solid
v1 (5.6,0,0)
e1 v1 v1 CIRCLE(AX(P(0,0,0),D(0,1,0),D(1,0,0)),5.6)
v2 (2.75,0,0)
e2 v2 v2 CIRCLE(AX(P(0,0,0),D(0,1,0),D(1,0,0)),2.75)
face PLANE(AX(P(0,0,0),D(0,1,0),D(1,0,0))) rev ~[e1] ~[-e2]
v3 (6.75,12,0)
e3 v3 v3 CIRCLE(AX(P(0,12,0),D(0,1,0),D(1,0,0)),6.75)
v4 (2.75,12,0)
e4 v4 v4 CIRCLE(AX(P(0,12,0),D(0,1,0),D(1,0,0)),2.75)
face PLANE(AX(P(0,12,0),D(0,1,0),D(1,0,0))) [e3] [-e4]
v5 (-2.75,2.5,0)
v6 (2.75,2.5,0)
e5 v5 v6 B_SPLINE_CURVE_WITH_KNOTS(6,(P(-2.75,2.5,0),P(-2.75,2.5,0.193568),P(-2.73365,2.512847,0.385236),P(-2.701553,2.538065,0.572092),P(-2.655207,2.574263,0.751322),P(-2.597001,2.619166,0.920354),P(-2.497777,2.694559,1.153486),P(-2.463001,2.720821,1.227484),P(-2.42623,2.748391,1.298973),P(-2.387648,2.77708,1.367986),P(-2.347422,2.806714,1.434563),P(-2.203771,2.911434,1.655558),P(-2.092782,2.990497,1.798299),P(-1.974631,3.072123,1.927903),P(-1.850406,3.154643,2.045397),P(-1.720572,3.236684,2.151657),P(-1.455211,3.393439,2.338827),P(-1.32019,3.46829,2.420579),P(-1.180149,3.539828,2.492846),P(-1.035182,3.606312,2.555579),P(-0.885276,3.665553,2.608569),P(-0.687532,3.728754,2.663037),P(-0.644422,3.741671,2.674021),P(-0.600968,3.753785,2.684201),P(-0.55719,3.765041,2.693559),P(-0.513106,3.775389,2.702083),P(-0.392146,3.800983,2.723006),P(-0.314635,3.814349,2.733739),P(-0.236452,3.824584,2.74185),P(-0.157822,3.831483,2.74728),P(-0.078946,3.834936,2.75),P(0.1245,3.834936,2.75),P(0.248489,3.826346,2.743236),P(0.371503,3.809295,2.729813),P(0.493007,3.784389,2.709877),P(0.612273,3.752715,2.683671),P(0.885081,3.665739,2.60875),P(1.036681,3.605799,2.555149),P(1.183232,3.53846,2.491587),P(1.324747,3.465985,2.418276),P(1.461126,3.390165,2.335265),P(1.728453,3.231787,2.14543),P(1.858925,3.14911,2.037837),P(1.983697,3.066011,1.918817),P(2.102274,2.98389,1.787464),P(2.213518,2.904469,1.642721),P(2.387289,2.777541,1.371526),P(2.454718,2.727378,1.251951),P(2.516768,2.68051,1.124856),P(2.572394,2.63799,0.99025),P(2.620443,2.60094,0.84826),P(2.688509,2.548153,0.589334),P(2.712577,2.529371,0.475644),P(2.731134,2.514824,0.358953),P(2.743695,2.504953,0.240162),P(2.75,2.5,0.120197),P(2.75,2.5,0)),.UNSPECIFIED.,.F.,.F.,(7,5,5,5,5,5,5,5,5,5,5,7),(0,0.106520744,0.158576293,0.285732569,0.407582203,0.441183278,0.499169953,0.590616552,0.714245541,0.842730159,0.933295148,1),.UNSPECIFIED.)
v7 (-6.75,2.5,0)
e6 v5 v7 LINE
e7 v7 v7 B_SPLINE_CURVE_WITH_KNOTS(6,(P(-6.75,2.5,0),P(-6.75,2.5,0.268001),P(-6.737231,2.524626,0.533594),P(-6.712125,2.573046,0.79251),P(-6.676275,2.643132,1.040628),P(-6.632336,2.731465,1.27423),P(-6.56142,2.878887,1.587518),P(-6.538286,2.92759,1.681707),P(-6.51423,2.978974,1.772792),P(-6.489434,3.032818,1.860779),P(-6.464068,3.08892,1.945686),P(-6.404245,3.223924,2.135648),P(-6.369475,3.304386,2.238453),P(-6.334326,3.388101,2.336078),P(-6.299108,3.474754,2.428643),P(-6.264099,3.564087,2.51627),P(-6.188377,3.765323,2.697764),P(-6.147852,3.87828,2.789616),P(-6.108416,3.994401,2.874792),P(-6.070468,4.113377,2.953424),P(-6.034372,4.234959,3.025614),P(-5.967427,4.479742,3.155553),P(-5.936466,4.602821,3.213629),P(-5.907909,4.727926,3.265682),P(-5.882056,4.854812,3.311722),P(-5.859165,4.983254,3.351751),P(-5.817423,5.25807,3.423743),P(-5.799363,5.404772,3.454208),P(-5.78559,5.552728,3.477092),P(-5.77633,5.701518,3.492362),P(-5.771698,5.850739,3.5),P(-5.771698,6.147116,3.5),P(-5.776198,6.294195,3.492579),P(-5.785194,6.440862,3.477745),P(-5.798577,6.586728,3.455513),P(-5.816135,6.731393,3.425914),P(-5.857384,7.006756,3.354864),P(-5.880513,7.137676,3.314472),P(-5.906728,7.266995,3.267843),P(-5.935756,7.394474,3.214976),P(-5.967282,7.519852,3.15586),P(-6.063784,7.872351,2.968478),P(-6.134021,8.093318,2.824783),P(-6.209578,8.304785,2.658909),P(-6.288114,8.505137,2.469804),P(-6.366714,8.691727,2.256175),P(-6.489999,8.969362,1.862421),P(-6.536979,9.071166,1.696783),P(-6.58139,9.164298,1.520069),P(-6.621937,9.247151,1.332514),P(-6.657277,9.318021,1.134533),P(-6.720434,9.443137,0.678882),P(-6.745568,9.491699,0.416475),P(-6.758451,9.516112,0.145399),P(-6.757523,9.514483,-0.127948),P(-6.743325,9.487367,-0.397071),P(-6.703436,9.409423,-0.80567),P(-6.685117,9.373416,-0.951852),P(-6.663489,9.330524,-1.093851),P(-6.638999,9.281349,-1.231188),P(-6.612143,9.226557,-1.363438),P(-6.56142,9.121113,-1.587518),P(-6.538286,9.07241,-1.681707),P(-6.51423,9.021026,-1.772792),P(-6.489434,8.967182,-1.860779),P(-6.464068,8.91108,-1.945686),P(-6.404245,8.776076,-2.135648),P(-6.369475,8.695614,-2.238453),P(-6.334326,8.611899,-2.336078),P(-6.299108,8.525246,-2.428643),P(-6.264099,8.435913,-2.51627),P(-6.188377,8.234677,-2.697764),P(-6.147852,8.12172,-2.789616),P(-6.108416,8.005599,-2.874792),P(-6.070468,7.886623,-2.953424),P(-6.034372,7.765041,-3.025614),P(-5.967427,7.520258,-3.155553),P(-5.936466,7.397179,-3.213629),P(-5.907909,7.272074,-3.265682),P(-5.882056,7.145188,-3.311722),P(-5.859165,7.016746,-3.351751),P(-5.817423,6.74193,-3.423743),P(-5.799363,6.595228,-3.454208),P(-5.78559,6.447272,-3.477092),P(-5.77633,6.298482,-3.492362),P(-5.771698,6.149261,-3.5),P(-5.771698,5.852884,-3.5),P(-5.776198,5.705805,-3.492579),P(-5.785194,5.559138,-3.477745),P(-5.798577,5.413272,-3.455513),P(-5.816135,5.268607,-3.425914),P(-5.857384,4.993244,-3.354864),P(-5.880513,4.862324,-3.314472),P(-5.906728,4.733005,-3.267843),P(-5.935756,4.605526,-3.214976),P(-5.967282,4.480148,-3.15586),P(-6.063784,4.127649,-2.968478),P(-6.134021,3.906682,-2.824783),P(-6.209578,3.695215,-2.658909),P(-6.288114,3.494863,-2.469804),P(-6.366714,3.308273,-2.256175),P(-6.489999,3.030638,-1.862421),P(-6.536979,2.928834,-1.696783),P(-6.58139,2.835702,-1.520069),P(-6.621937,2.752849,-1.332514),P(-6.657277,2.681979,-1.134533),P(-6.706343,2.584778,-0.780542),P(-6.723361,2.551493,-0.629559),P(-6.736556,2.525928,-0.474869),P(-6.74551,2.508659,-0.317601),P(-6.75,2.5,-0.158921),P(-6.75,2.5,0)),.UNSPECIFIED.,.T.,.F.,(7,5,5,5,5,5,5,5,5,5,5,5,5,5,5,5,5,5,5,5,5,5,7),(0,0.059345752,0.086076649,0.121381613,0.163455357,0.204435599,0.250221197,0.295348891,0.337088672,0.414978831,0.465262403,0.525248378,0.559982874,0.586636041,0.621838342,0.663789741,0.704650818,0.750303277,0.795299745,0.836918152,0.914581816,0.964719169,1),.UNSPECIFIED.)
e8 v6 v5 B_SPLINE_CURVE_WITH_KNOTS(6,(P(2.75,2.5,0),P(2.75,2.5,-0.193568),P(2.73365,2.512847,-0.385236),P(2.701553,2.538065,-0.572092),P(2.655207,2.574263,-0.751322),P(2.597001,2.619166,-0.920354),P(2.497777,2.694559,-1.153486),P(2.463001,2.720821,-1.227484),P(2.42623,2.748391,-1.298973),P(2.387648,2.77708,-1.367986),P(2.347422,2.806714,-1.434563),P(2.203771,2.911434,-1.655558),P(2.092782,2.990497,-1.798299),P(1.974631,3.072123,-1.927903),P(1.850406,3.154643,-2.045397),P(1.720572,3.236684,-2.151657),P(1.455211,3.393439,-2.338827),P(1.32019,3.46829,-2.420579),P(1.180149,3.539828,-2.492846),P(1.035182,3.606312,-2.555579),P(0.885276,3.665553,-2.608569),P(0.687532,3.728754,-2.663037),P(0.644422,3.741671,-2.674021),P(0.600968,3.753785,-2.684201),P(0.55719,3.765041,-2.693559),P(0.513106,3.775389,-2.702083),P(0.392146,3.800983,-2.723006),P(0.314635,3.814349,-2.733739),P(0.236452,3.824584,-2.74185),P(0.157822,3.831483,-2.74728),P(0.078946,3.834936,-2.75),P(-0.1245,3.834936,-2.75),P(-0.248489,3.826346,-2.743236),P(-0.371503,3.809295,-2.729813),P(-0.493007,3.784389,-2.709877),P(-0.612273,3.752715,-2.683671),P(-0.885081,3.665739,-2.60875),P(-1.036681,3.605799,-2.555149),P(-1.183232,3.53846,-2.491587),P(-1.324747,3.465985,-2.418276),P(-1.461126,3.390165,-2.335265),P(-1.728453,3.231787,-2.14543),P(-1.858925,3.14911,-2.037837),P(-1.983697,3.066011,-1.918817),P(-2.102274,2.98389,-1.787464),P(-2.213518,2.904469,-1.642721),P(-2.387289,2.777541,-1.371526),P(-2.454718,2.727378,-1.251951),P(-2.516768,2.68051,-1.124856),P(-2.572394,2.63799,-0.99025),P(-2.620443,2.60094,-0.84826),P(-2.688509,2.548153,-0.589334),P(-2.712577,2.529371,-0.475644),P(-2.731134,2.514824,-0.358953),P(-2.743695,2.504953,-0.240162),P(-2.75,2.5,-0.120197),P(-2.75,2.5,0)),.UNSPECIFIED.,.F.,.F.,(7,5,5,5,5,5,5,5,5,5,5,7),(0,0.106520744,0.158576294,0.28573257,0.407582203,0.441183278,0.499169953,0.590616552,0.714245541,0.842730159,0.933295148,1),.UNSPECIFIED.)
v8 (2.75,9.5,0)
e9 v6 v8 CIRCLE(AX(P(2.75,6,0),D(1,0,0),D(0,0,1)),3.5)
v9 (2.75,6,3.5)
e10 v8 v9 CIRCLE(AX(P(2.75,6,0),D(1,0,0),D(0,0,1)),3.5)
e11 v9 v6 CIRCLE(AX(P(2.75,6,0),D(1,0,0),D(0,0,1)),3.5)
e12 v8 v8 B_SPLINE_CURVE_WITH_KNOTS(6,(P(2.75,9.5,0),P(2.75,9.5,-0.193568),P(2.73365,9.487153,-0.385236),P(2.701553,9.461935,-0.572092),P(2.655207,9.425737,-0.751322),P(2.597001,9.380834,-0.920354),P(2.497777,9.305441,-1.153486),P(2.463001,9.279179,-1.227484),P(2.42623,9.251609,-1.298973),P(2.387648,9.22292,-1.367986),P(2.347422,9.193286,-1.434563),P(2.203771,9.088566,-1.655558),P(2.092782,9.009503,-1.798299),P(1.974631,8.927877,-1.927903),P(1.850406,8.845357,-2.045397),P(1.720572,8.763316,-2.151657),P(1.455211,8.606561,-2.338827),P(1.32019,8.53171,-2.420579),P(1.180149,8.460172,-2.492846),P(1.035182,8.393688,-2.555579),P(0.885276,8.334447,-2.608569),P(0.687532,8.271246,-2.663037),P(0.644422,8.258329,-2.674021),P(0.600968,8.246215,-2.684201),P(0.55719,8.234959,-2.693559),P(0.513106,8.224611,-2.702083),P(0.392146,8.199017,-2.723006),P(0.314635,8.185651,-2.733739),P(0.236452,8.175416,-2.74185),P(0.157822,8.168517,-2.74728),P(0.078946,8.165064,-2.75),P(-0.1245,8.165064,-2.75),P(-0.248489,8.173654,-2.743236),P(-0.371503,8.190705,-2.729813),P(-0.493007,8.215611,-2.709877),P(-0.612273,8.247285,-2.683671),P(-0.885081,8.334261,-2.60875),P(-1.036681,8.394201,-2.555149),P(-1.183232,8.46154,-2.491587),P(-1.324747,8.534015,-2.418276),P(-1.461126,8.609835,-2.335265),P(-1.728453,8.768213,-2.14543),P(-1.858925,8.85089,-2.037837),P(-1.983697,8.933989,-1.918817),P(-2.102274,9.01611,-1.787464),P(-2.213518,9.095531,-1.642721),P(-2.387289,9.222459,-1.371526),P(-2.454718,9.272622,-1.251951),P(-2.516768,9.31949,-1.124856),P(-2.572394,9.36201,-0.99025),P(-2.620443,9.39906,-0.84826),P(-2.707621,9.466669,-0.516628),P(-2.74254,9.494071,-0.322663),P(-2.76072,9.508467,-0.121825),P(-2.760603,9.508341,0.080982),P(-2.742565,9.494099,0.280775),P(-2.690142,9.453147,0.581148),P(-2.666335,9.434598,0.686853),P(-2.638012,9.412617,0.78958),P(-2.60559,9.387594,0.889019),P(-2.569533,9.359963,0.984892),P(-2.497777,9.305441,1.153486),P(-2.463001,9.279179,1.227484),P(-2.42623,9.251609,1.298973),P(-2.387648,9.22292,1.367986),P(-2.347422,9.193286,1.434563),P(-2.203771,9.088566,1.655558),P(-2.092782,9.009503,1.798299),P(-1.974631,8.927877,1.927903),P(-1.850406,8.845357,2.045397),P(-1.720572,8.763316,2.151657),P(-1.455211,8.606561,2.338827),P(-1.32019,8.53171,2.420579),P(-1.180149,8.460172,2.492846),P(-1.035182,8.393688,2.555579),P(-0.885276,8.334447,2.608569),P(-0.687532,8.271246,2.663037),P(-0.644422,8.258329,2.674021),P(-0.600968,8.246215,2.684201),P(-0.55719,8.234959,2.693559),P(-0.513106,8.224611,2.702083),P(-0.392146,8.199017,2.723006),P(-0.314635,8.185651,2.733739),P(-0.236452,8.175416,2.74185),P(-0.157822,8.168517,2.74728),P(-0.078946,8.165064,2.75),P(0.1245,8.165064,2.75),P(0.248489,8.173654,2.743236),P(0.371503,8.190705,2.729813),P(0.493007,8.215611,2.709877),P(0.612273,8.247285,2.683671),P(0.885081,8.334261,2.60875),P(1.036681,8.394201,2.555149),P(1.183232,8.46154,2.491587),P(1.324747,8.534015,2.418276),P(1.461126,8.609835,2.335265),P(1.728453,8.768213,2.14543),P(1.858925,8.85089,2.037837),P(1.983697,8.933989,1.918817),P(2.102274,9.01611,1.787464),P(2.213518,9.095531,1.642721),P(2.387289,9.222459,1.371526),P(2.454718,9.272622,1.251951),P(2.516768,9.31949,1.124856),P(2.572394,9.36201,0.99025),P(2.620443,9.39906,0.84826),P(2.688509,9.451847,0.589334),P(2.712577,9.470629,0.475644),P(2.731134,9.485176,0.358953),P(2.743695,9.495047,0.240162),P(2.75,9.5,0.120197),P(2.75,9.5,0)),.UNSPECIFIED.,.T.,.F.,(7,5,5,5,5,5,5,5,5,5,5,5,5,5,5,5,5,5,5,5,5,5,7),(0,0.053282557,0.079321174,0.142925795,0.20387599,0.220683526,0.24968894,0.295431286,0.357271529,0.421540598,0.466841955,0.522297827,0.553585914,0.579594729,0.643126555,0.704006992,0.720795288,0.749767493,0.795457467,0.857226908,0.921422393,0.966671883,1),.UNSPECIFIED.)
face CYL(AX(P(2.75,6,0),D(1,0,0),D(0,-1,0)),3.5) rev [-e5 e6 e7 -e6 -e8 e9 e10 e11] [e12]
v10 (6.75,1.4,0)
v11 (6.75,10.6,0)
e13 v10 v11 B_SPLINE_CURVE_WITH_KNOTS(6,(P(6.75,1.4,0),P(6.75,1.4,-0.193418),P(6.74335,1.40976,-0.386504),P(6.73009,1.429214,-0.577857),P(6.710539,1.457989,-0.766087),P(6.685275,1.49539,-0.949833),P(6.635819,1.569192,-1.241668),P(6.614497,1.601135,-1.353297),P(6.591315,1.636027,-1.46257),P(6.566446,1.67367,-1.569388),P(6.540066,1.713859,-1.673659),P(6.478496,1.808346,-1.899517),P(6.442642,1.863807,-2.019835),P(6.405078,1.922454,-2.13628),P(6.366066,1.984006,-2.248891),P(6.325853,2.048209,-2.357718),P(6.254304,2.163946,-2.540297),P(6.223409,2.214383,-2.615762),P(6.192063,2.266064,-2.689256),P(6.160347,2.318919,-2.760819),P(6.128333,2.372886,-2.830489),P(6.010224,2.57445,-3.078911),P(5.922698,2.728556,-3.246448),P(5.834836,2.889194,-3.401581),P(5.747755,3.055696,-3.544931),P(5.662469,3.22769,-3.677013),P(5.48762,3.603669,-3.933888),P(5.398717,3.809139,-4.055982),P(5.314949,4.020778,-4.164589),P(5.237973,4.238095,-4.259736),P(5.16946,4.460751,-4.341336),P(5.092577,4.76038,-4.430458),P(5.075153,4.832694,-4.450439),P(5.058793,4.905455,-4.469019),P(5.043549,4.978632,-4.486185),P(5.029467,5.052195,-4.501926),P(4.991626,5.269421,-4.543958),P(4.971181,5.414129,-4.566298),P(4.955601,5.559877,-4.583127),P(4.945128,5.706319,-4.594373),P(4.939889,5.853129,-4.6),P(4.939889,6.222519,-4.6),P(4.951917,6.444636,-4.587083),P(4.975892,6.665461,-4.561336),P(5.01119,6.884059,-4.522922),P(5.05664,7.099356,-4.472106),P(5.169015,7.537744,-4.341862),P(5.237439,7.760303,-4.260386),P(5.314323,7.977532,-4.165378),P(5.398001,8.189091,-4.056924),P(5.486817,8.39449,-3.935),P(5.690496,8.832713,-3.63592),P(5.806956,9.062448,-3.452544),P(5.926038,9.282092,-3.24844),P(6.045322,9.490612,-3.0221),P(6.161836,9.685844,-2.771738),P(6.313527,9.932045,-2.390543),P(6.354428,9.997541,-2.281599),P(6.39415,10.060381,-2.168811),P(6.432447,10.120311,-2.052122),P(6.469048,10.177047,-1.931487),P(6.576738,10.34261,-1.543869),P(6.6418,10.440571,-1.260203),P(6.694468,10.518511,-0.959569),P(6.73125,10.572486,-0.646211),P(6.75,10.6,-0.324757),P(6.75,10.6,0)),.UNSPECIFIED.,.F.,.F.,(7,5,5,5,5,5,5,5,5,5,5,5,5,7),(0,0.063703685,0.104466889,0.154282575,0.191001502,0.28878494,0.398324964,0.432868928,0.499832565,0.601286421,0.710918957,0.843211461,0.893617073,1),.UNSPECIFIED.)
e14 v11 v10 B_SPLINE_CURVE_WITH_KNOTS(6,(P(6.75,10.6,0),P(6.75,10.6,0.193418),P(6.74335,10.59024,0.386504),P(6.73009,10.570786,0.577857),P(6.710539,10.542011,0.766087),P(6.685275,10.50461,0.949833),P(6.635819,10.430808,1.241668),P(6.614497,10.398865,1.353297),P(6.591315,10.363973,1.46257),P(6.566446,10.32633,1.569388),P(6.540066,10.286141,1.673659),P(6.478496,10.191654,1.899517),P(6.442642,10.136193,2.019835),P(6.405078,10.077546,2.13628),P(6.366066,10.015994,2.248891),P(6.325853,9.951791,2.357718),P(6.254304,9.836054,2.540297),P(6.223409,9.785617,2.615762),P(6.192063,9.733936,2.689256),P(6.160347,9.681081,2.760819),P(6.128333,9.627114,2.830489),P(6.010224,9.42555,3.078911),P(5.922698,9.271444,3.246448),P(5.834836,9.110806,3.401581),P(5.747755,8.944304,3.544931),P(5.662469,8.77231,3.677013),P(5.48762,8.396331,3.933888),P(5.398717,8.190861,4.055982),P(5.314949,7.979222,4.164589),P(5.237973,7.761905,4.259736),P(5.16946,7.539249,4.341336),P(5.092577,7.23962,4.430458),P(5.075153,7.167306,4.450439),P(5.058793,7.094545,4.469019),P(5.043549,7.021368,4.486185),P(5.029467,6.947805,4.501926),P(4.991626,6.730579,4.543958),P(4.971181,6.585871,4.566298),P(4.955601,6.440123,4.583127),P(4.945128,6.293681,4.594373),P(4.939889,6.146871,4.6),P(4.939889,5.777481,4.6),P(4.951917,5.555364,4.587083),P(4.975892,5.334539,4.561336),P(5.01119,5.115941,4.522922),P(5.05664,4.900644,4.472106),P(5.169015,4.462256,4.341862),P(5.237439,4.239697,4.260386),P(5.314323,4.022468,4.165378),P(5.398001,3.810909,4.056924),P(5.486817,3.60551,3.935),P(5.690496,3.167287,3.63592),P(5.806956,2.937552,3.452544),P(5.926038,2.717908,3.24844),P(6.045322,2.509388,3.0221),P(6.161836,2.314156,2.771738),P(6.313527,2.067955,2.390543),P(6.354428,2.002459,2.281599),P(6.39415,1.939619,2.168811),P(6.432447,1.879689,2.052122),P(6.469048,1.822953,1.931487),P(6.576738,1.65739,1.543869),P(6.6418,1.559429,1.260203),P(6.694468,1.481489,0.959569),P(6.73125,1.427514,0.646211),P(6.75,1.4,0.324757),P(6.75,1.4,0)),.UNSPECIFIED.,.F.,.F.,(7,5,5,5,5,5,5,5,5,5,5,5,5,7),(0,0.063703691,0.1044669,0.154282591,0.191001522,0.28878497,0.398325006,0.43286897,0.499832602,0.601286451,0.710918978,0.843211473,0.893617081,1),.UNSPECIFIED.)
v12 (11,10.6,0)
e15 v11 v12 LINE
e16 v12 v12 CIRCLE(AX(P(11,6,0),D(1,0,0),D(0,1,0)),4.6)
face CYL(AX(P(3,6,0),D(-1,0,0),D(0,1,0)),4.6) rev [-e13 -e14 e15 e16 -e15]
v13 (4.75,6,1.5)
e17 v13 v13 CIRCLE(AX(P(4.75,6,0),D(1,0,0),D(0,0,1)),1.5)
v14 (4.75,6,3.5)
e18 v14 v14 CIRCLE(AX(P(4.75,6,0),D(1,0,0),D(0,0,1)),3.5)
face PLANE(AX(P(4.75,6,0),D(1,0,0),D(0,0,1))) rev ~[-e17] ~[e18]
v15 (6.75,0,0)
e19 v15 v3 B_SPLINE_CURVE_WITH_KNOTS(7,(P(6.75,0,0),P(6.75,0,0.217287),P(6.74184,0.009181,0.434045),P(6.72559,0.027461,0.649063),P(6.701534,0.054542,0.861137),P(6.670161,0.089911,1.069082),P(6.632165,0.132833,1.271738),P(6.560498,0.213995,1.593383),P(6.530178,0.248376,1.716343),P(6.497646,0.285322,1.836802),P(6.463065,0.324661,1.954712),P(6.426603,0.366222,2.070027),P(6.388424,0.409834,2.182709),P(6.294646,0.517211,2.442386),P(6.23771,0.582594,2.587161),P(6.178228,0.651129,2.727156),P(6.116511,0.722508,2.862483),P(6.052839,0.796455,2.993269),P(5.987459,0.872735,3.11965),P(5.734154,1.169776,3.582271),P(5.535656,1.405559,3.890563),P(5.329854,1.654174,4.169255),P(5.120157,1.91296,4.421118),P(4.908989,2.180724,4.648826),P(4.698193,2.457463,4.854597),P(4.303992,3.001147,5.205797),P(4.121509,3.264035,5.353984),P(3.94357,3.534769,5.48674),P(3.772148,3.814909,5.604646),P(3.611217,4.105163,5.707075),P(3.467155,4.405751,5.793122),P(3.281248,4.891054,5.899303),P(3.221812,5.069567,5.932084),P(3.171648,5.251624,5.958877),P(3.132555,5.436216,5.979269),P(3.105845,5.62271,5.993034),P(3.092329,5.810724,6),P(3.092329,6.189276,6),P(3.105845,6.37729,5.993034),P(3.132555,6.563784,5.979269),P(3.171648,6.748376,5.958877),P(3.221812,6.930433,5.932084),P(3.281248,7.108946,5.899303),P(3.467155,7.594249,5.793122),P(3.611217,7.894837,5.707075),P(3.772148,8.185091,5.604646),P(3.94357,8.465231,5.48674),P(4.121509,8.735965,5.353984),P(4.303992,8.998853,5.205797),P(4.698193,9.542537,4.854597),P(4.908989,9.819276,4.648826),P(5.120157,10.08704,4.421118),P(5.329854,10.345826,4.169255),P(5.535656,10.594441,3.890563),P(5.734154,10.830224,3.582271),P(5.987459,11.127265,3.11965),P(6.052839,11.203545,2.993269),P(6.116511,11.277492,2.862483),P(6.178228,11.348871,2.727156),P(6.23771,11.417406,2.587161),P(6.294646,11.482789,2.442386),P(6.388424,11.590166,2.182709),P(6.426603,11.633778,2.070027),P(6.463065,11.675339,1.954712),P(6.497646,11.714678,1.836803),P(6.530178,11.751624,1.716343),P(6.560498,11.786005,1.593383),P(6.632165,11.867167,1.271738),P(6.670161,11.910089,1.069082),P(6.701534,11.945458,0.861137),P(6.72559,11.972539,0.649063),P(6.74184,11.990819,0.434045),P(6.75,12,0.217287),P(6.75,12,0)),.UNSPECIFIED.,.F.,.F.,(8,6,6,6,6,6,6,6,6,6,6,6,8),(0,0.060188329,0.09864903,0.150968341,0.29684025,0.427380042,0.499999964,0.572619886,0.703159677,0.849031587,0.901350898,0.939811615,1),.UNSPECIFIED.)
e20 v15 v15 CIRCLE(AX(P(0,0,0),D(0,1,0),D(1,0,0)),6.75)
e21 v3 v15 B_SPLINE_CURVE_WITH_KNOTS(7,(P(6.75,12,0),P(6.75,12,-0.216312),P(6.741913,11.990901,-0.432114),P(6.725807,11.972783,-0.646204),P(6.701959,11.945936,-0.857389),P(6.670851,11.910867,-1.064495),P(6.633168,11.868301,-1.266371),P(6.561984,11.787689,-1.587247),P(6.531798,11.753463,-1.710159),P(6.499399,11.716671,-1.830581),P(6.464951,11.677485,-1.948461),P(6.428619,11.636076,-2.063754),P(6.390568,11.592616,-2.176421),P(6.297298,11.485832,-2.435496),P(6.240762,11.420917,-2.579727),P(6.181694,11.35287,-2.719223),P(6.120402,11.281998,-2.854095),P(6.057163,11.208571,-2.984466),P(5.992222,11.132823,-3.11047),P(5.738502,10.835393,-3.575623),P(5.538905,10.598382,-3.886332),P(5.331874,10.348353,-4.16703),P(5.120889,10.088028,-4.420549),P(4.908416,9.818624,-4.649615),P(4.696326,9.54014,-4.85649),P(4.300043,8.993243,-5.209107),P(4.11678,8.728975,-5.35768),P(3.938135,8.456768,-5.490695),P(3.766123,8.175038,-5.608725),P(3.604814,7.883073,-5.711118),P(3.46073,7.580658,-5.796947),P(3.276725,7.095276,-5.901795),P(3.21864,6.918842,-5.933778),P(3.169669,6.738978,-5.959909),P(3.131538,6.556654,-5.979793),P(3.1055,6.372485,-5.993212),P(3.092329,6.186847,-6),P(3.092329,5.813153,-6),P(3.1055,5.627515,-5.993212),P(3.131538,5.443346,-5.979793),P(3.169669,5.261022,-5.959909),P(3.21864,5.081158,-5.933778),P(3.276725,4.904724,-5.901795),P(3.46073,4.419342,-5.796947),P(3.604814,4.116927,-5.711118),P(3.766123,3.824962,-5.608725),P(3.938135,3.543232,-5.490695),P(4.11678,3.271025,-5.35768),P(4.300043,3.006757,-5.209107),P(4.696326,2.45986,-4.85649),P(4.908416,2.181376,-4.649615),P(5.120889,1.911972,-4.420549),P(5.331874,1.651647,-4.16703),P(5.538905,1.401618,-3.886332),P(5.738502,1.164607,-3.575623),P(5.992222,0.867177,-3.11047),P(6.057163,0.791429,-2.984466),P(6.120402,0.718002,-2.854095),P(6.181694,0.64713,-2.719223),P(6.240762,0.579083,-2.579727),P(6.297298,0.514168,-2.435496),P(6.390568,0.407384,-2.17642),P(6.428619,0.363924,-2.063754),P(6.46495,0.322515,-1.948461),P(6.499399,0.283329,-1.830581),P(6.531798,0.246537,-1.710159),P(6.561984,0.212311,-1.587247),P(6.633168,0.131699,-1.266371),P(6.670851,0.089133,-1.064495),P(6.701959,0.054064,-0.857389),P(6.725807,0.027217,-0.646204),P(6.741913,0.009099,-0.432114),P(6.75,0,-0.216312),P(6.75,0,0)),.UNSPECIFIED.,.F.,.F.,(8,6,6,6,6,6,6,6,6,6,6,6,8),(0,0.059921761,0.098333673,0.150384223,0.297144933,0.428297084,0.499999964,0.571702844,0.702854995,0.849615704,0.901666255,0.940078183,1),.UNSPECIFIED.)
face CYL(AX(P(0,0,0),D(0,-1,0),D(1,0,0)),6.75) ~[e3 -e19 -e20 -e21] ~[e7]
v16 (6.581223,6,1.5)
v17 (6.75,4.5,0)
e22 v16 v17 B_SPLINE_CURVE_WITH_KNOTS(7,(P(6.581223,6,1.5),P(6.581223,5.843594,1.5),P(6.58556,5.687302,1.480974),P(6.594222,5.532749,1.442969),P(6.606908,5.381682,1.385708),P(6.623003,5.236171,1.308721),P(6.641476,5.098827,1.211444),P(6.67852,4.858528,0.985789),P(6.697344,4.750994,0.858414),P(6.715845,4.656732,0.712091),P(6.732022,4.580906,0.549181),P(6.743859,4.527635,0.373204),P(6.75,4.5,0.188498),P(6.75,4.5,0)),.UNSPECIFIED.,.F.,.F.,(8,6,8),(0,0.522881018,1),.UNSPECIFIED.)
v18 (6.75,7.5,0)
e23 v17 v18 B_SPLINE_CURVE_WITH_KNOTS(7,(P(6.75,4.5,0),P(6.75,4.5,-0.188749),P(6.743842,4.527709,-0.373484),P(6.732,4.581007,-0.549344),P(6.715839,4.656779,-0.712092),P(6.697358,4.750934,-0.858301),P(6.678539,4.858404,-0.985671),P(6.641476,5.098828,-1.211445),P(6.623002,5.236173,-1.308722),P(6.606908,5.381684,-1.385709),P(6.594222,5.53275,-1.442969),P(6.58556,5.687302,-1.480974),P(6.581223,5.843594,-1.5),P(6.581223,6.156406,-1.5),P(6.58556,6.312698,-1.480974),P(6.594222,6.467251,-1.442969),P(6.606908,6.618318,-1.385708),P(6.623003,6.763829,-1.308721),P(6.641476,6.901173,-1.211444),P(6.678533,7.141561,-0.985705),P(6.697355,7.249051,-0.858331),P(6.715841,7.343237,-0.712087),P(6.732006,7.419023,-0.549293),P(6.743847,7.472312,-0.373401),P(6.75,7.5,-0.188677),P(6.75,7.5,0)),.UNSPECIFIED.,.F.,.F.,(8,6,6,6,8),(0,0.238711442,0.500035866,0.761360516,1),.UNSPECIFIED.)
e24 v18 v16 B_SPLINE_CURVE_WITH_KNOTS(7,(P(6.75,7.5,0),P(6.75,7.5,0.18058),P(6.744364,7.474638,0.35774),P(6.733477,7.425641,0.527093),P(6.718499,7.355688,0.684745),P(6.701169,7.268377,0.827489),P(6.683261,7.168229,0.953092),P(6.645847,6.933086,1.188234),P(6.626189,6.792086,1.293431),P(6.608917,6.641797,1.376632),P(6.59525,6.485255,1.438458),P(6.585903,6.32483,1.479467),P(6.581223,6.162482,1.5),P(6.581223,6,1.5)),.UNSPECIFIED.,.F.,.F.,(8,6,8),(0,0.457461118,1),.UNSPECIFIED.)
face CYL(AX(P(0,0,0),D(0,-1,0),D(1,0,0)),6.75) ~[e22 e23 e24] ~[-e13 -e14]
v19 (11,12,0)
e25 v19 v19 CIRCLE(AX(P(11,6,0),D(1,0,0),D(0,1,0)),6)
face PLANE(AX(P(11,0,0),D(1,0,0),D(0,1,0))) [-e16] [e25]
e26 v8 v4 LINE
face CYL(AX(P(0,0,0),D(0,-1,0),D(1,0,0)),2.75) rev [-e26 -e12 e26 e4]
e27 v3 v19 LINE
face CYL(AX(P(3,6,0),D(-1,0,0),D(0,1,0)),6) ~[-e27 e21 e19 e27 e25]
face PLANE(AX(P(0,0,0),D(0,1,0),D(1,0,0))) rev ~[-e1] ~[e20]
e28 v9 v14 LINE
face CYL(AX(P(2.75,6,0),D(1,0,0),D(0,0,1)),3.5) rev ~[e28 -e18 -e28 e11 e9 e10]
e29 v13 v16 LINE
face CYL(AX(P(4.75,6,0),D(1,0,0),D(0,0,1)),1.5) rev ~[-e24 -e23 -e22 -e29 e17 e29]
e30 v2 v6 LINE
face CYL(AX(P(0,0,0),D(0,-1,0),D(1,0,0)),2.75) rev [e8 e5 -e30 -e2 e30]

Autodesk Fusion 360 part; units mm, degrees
sketch "Sketch1" plane through (0, 0, 0) normal (0, 1, 0) x (1, 0, 0)
  circle A0 centre (0, 0) radius 2.75
  circle A1 centre (0, 0) radius 6.75
  dimension "d1" = 5.5
  dimension "d2" = 4
extrude "Extrude1" add sketch "Sketch1" along normal blind 12
ref_plane "WorkPlane1" through (3, 0, 0) normal (1, 0, 0) x (0, 1, 0)
sketch "Sketch2" plane through (3, 0, 0) normal (1, 0, 0) x (0, 1, 0)
  line L0 (12, -6.75) -> (12, 6.75)
  line L1 (0, -6.75) -> (0, 6.75)
  circle A0 centre (6, 0) radius 4.6
  circle A1 centre (6, 0) radius 6
  dimension "d6" = 9.2
  dimension "d7" = 6
  dimension "d8" = 12
  dimension "d9" = 1.4
extrude "Extrude2" add sketch "Sketch2" along normal blind 8
ref_plane "WorkPlane2" through (2.75, 6.403, 0) normal (-1, 0, 0) x (0, 0, -1)
sketch "Sketch3" plane through (2.75, 6.403, 0) normal (-1, 0, 0) x (0, -1, 0)
  line L0 (-5.597, -2.75) -> (-5.597, 2.75)
  line L1 (6.403, -2.75) -> (6.403, 2.75)
  line L2 (6.403, -2.75) -> (6.403, 2.75)
  line L3 (-5.597, -2.75) -> (-5.597, 2.75)
  circle A0 centre (0.403, 0) radius 3.5
  point P0 (0.403, 0)
  dimension "d13" = 6
  dimension "d14" = 12
  dimension "d20" = 7
hole "Hole1" at (2.75, 6, 0) direction (1, 0, 0) diameter 3 depth 10 tip angle 118 counterbore diameter 7 counterbore depth 2
extrude "Extrude3" cut sketch "Sketch3" along normal blind 14.5
sketch "Sketch4" plane through (0, 0, 0) normal (0, 1, 0) x (1, 0, 0)
hole "Hole2" at (0, 0, 0) direction (0, -1, 0) diameter 5.5 depth 25.5 tip angle 118 countersink diameter 11.2 countersink angle 90
equation "d1 = 5 mm + 0.5 mm"
equation "d6 = 9 mm + 0.2 mm"
equation "d7 = d8 / 2"
equation "d13 = d14 / 2"
